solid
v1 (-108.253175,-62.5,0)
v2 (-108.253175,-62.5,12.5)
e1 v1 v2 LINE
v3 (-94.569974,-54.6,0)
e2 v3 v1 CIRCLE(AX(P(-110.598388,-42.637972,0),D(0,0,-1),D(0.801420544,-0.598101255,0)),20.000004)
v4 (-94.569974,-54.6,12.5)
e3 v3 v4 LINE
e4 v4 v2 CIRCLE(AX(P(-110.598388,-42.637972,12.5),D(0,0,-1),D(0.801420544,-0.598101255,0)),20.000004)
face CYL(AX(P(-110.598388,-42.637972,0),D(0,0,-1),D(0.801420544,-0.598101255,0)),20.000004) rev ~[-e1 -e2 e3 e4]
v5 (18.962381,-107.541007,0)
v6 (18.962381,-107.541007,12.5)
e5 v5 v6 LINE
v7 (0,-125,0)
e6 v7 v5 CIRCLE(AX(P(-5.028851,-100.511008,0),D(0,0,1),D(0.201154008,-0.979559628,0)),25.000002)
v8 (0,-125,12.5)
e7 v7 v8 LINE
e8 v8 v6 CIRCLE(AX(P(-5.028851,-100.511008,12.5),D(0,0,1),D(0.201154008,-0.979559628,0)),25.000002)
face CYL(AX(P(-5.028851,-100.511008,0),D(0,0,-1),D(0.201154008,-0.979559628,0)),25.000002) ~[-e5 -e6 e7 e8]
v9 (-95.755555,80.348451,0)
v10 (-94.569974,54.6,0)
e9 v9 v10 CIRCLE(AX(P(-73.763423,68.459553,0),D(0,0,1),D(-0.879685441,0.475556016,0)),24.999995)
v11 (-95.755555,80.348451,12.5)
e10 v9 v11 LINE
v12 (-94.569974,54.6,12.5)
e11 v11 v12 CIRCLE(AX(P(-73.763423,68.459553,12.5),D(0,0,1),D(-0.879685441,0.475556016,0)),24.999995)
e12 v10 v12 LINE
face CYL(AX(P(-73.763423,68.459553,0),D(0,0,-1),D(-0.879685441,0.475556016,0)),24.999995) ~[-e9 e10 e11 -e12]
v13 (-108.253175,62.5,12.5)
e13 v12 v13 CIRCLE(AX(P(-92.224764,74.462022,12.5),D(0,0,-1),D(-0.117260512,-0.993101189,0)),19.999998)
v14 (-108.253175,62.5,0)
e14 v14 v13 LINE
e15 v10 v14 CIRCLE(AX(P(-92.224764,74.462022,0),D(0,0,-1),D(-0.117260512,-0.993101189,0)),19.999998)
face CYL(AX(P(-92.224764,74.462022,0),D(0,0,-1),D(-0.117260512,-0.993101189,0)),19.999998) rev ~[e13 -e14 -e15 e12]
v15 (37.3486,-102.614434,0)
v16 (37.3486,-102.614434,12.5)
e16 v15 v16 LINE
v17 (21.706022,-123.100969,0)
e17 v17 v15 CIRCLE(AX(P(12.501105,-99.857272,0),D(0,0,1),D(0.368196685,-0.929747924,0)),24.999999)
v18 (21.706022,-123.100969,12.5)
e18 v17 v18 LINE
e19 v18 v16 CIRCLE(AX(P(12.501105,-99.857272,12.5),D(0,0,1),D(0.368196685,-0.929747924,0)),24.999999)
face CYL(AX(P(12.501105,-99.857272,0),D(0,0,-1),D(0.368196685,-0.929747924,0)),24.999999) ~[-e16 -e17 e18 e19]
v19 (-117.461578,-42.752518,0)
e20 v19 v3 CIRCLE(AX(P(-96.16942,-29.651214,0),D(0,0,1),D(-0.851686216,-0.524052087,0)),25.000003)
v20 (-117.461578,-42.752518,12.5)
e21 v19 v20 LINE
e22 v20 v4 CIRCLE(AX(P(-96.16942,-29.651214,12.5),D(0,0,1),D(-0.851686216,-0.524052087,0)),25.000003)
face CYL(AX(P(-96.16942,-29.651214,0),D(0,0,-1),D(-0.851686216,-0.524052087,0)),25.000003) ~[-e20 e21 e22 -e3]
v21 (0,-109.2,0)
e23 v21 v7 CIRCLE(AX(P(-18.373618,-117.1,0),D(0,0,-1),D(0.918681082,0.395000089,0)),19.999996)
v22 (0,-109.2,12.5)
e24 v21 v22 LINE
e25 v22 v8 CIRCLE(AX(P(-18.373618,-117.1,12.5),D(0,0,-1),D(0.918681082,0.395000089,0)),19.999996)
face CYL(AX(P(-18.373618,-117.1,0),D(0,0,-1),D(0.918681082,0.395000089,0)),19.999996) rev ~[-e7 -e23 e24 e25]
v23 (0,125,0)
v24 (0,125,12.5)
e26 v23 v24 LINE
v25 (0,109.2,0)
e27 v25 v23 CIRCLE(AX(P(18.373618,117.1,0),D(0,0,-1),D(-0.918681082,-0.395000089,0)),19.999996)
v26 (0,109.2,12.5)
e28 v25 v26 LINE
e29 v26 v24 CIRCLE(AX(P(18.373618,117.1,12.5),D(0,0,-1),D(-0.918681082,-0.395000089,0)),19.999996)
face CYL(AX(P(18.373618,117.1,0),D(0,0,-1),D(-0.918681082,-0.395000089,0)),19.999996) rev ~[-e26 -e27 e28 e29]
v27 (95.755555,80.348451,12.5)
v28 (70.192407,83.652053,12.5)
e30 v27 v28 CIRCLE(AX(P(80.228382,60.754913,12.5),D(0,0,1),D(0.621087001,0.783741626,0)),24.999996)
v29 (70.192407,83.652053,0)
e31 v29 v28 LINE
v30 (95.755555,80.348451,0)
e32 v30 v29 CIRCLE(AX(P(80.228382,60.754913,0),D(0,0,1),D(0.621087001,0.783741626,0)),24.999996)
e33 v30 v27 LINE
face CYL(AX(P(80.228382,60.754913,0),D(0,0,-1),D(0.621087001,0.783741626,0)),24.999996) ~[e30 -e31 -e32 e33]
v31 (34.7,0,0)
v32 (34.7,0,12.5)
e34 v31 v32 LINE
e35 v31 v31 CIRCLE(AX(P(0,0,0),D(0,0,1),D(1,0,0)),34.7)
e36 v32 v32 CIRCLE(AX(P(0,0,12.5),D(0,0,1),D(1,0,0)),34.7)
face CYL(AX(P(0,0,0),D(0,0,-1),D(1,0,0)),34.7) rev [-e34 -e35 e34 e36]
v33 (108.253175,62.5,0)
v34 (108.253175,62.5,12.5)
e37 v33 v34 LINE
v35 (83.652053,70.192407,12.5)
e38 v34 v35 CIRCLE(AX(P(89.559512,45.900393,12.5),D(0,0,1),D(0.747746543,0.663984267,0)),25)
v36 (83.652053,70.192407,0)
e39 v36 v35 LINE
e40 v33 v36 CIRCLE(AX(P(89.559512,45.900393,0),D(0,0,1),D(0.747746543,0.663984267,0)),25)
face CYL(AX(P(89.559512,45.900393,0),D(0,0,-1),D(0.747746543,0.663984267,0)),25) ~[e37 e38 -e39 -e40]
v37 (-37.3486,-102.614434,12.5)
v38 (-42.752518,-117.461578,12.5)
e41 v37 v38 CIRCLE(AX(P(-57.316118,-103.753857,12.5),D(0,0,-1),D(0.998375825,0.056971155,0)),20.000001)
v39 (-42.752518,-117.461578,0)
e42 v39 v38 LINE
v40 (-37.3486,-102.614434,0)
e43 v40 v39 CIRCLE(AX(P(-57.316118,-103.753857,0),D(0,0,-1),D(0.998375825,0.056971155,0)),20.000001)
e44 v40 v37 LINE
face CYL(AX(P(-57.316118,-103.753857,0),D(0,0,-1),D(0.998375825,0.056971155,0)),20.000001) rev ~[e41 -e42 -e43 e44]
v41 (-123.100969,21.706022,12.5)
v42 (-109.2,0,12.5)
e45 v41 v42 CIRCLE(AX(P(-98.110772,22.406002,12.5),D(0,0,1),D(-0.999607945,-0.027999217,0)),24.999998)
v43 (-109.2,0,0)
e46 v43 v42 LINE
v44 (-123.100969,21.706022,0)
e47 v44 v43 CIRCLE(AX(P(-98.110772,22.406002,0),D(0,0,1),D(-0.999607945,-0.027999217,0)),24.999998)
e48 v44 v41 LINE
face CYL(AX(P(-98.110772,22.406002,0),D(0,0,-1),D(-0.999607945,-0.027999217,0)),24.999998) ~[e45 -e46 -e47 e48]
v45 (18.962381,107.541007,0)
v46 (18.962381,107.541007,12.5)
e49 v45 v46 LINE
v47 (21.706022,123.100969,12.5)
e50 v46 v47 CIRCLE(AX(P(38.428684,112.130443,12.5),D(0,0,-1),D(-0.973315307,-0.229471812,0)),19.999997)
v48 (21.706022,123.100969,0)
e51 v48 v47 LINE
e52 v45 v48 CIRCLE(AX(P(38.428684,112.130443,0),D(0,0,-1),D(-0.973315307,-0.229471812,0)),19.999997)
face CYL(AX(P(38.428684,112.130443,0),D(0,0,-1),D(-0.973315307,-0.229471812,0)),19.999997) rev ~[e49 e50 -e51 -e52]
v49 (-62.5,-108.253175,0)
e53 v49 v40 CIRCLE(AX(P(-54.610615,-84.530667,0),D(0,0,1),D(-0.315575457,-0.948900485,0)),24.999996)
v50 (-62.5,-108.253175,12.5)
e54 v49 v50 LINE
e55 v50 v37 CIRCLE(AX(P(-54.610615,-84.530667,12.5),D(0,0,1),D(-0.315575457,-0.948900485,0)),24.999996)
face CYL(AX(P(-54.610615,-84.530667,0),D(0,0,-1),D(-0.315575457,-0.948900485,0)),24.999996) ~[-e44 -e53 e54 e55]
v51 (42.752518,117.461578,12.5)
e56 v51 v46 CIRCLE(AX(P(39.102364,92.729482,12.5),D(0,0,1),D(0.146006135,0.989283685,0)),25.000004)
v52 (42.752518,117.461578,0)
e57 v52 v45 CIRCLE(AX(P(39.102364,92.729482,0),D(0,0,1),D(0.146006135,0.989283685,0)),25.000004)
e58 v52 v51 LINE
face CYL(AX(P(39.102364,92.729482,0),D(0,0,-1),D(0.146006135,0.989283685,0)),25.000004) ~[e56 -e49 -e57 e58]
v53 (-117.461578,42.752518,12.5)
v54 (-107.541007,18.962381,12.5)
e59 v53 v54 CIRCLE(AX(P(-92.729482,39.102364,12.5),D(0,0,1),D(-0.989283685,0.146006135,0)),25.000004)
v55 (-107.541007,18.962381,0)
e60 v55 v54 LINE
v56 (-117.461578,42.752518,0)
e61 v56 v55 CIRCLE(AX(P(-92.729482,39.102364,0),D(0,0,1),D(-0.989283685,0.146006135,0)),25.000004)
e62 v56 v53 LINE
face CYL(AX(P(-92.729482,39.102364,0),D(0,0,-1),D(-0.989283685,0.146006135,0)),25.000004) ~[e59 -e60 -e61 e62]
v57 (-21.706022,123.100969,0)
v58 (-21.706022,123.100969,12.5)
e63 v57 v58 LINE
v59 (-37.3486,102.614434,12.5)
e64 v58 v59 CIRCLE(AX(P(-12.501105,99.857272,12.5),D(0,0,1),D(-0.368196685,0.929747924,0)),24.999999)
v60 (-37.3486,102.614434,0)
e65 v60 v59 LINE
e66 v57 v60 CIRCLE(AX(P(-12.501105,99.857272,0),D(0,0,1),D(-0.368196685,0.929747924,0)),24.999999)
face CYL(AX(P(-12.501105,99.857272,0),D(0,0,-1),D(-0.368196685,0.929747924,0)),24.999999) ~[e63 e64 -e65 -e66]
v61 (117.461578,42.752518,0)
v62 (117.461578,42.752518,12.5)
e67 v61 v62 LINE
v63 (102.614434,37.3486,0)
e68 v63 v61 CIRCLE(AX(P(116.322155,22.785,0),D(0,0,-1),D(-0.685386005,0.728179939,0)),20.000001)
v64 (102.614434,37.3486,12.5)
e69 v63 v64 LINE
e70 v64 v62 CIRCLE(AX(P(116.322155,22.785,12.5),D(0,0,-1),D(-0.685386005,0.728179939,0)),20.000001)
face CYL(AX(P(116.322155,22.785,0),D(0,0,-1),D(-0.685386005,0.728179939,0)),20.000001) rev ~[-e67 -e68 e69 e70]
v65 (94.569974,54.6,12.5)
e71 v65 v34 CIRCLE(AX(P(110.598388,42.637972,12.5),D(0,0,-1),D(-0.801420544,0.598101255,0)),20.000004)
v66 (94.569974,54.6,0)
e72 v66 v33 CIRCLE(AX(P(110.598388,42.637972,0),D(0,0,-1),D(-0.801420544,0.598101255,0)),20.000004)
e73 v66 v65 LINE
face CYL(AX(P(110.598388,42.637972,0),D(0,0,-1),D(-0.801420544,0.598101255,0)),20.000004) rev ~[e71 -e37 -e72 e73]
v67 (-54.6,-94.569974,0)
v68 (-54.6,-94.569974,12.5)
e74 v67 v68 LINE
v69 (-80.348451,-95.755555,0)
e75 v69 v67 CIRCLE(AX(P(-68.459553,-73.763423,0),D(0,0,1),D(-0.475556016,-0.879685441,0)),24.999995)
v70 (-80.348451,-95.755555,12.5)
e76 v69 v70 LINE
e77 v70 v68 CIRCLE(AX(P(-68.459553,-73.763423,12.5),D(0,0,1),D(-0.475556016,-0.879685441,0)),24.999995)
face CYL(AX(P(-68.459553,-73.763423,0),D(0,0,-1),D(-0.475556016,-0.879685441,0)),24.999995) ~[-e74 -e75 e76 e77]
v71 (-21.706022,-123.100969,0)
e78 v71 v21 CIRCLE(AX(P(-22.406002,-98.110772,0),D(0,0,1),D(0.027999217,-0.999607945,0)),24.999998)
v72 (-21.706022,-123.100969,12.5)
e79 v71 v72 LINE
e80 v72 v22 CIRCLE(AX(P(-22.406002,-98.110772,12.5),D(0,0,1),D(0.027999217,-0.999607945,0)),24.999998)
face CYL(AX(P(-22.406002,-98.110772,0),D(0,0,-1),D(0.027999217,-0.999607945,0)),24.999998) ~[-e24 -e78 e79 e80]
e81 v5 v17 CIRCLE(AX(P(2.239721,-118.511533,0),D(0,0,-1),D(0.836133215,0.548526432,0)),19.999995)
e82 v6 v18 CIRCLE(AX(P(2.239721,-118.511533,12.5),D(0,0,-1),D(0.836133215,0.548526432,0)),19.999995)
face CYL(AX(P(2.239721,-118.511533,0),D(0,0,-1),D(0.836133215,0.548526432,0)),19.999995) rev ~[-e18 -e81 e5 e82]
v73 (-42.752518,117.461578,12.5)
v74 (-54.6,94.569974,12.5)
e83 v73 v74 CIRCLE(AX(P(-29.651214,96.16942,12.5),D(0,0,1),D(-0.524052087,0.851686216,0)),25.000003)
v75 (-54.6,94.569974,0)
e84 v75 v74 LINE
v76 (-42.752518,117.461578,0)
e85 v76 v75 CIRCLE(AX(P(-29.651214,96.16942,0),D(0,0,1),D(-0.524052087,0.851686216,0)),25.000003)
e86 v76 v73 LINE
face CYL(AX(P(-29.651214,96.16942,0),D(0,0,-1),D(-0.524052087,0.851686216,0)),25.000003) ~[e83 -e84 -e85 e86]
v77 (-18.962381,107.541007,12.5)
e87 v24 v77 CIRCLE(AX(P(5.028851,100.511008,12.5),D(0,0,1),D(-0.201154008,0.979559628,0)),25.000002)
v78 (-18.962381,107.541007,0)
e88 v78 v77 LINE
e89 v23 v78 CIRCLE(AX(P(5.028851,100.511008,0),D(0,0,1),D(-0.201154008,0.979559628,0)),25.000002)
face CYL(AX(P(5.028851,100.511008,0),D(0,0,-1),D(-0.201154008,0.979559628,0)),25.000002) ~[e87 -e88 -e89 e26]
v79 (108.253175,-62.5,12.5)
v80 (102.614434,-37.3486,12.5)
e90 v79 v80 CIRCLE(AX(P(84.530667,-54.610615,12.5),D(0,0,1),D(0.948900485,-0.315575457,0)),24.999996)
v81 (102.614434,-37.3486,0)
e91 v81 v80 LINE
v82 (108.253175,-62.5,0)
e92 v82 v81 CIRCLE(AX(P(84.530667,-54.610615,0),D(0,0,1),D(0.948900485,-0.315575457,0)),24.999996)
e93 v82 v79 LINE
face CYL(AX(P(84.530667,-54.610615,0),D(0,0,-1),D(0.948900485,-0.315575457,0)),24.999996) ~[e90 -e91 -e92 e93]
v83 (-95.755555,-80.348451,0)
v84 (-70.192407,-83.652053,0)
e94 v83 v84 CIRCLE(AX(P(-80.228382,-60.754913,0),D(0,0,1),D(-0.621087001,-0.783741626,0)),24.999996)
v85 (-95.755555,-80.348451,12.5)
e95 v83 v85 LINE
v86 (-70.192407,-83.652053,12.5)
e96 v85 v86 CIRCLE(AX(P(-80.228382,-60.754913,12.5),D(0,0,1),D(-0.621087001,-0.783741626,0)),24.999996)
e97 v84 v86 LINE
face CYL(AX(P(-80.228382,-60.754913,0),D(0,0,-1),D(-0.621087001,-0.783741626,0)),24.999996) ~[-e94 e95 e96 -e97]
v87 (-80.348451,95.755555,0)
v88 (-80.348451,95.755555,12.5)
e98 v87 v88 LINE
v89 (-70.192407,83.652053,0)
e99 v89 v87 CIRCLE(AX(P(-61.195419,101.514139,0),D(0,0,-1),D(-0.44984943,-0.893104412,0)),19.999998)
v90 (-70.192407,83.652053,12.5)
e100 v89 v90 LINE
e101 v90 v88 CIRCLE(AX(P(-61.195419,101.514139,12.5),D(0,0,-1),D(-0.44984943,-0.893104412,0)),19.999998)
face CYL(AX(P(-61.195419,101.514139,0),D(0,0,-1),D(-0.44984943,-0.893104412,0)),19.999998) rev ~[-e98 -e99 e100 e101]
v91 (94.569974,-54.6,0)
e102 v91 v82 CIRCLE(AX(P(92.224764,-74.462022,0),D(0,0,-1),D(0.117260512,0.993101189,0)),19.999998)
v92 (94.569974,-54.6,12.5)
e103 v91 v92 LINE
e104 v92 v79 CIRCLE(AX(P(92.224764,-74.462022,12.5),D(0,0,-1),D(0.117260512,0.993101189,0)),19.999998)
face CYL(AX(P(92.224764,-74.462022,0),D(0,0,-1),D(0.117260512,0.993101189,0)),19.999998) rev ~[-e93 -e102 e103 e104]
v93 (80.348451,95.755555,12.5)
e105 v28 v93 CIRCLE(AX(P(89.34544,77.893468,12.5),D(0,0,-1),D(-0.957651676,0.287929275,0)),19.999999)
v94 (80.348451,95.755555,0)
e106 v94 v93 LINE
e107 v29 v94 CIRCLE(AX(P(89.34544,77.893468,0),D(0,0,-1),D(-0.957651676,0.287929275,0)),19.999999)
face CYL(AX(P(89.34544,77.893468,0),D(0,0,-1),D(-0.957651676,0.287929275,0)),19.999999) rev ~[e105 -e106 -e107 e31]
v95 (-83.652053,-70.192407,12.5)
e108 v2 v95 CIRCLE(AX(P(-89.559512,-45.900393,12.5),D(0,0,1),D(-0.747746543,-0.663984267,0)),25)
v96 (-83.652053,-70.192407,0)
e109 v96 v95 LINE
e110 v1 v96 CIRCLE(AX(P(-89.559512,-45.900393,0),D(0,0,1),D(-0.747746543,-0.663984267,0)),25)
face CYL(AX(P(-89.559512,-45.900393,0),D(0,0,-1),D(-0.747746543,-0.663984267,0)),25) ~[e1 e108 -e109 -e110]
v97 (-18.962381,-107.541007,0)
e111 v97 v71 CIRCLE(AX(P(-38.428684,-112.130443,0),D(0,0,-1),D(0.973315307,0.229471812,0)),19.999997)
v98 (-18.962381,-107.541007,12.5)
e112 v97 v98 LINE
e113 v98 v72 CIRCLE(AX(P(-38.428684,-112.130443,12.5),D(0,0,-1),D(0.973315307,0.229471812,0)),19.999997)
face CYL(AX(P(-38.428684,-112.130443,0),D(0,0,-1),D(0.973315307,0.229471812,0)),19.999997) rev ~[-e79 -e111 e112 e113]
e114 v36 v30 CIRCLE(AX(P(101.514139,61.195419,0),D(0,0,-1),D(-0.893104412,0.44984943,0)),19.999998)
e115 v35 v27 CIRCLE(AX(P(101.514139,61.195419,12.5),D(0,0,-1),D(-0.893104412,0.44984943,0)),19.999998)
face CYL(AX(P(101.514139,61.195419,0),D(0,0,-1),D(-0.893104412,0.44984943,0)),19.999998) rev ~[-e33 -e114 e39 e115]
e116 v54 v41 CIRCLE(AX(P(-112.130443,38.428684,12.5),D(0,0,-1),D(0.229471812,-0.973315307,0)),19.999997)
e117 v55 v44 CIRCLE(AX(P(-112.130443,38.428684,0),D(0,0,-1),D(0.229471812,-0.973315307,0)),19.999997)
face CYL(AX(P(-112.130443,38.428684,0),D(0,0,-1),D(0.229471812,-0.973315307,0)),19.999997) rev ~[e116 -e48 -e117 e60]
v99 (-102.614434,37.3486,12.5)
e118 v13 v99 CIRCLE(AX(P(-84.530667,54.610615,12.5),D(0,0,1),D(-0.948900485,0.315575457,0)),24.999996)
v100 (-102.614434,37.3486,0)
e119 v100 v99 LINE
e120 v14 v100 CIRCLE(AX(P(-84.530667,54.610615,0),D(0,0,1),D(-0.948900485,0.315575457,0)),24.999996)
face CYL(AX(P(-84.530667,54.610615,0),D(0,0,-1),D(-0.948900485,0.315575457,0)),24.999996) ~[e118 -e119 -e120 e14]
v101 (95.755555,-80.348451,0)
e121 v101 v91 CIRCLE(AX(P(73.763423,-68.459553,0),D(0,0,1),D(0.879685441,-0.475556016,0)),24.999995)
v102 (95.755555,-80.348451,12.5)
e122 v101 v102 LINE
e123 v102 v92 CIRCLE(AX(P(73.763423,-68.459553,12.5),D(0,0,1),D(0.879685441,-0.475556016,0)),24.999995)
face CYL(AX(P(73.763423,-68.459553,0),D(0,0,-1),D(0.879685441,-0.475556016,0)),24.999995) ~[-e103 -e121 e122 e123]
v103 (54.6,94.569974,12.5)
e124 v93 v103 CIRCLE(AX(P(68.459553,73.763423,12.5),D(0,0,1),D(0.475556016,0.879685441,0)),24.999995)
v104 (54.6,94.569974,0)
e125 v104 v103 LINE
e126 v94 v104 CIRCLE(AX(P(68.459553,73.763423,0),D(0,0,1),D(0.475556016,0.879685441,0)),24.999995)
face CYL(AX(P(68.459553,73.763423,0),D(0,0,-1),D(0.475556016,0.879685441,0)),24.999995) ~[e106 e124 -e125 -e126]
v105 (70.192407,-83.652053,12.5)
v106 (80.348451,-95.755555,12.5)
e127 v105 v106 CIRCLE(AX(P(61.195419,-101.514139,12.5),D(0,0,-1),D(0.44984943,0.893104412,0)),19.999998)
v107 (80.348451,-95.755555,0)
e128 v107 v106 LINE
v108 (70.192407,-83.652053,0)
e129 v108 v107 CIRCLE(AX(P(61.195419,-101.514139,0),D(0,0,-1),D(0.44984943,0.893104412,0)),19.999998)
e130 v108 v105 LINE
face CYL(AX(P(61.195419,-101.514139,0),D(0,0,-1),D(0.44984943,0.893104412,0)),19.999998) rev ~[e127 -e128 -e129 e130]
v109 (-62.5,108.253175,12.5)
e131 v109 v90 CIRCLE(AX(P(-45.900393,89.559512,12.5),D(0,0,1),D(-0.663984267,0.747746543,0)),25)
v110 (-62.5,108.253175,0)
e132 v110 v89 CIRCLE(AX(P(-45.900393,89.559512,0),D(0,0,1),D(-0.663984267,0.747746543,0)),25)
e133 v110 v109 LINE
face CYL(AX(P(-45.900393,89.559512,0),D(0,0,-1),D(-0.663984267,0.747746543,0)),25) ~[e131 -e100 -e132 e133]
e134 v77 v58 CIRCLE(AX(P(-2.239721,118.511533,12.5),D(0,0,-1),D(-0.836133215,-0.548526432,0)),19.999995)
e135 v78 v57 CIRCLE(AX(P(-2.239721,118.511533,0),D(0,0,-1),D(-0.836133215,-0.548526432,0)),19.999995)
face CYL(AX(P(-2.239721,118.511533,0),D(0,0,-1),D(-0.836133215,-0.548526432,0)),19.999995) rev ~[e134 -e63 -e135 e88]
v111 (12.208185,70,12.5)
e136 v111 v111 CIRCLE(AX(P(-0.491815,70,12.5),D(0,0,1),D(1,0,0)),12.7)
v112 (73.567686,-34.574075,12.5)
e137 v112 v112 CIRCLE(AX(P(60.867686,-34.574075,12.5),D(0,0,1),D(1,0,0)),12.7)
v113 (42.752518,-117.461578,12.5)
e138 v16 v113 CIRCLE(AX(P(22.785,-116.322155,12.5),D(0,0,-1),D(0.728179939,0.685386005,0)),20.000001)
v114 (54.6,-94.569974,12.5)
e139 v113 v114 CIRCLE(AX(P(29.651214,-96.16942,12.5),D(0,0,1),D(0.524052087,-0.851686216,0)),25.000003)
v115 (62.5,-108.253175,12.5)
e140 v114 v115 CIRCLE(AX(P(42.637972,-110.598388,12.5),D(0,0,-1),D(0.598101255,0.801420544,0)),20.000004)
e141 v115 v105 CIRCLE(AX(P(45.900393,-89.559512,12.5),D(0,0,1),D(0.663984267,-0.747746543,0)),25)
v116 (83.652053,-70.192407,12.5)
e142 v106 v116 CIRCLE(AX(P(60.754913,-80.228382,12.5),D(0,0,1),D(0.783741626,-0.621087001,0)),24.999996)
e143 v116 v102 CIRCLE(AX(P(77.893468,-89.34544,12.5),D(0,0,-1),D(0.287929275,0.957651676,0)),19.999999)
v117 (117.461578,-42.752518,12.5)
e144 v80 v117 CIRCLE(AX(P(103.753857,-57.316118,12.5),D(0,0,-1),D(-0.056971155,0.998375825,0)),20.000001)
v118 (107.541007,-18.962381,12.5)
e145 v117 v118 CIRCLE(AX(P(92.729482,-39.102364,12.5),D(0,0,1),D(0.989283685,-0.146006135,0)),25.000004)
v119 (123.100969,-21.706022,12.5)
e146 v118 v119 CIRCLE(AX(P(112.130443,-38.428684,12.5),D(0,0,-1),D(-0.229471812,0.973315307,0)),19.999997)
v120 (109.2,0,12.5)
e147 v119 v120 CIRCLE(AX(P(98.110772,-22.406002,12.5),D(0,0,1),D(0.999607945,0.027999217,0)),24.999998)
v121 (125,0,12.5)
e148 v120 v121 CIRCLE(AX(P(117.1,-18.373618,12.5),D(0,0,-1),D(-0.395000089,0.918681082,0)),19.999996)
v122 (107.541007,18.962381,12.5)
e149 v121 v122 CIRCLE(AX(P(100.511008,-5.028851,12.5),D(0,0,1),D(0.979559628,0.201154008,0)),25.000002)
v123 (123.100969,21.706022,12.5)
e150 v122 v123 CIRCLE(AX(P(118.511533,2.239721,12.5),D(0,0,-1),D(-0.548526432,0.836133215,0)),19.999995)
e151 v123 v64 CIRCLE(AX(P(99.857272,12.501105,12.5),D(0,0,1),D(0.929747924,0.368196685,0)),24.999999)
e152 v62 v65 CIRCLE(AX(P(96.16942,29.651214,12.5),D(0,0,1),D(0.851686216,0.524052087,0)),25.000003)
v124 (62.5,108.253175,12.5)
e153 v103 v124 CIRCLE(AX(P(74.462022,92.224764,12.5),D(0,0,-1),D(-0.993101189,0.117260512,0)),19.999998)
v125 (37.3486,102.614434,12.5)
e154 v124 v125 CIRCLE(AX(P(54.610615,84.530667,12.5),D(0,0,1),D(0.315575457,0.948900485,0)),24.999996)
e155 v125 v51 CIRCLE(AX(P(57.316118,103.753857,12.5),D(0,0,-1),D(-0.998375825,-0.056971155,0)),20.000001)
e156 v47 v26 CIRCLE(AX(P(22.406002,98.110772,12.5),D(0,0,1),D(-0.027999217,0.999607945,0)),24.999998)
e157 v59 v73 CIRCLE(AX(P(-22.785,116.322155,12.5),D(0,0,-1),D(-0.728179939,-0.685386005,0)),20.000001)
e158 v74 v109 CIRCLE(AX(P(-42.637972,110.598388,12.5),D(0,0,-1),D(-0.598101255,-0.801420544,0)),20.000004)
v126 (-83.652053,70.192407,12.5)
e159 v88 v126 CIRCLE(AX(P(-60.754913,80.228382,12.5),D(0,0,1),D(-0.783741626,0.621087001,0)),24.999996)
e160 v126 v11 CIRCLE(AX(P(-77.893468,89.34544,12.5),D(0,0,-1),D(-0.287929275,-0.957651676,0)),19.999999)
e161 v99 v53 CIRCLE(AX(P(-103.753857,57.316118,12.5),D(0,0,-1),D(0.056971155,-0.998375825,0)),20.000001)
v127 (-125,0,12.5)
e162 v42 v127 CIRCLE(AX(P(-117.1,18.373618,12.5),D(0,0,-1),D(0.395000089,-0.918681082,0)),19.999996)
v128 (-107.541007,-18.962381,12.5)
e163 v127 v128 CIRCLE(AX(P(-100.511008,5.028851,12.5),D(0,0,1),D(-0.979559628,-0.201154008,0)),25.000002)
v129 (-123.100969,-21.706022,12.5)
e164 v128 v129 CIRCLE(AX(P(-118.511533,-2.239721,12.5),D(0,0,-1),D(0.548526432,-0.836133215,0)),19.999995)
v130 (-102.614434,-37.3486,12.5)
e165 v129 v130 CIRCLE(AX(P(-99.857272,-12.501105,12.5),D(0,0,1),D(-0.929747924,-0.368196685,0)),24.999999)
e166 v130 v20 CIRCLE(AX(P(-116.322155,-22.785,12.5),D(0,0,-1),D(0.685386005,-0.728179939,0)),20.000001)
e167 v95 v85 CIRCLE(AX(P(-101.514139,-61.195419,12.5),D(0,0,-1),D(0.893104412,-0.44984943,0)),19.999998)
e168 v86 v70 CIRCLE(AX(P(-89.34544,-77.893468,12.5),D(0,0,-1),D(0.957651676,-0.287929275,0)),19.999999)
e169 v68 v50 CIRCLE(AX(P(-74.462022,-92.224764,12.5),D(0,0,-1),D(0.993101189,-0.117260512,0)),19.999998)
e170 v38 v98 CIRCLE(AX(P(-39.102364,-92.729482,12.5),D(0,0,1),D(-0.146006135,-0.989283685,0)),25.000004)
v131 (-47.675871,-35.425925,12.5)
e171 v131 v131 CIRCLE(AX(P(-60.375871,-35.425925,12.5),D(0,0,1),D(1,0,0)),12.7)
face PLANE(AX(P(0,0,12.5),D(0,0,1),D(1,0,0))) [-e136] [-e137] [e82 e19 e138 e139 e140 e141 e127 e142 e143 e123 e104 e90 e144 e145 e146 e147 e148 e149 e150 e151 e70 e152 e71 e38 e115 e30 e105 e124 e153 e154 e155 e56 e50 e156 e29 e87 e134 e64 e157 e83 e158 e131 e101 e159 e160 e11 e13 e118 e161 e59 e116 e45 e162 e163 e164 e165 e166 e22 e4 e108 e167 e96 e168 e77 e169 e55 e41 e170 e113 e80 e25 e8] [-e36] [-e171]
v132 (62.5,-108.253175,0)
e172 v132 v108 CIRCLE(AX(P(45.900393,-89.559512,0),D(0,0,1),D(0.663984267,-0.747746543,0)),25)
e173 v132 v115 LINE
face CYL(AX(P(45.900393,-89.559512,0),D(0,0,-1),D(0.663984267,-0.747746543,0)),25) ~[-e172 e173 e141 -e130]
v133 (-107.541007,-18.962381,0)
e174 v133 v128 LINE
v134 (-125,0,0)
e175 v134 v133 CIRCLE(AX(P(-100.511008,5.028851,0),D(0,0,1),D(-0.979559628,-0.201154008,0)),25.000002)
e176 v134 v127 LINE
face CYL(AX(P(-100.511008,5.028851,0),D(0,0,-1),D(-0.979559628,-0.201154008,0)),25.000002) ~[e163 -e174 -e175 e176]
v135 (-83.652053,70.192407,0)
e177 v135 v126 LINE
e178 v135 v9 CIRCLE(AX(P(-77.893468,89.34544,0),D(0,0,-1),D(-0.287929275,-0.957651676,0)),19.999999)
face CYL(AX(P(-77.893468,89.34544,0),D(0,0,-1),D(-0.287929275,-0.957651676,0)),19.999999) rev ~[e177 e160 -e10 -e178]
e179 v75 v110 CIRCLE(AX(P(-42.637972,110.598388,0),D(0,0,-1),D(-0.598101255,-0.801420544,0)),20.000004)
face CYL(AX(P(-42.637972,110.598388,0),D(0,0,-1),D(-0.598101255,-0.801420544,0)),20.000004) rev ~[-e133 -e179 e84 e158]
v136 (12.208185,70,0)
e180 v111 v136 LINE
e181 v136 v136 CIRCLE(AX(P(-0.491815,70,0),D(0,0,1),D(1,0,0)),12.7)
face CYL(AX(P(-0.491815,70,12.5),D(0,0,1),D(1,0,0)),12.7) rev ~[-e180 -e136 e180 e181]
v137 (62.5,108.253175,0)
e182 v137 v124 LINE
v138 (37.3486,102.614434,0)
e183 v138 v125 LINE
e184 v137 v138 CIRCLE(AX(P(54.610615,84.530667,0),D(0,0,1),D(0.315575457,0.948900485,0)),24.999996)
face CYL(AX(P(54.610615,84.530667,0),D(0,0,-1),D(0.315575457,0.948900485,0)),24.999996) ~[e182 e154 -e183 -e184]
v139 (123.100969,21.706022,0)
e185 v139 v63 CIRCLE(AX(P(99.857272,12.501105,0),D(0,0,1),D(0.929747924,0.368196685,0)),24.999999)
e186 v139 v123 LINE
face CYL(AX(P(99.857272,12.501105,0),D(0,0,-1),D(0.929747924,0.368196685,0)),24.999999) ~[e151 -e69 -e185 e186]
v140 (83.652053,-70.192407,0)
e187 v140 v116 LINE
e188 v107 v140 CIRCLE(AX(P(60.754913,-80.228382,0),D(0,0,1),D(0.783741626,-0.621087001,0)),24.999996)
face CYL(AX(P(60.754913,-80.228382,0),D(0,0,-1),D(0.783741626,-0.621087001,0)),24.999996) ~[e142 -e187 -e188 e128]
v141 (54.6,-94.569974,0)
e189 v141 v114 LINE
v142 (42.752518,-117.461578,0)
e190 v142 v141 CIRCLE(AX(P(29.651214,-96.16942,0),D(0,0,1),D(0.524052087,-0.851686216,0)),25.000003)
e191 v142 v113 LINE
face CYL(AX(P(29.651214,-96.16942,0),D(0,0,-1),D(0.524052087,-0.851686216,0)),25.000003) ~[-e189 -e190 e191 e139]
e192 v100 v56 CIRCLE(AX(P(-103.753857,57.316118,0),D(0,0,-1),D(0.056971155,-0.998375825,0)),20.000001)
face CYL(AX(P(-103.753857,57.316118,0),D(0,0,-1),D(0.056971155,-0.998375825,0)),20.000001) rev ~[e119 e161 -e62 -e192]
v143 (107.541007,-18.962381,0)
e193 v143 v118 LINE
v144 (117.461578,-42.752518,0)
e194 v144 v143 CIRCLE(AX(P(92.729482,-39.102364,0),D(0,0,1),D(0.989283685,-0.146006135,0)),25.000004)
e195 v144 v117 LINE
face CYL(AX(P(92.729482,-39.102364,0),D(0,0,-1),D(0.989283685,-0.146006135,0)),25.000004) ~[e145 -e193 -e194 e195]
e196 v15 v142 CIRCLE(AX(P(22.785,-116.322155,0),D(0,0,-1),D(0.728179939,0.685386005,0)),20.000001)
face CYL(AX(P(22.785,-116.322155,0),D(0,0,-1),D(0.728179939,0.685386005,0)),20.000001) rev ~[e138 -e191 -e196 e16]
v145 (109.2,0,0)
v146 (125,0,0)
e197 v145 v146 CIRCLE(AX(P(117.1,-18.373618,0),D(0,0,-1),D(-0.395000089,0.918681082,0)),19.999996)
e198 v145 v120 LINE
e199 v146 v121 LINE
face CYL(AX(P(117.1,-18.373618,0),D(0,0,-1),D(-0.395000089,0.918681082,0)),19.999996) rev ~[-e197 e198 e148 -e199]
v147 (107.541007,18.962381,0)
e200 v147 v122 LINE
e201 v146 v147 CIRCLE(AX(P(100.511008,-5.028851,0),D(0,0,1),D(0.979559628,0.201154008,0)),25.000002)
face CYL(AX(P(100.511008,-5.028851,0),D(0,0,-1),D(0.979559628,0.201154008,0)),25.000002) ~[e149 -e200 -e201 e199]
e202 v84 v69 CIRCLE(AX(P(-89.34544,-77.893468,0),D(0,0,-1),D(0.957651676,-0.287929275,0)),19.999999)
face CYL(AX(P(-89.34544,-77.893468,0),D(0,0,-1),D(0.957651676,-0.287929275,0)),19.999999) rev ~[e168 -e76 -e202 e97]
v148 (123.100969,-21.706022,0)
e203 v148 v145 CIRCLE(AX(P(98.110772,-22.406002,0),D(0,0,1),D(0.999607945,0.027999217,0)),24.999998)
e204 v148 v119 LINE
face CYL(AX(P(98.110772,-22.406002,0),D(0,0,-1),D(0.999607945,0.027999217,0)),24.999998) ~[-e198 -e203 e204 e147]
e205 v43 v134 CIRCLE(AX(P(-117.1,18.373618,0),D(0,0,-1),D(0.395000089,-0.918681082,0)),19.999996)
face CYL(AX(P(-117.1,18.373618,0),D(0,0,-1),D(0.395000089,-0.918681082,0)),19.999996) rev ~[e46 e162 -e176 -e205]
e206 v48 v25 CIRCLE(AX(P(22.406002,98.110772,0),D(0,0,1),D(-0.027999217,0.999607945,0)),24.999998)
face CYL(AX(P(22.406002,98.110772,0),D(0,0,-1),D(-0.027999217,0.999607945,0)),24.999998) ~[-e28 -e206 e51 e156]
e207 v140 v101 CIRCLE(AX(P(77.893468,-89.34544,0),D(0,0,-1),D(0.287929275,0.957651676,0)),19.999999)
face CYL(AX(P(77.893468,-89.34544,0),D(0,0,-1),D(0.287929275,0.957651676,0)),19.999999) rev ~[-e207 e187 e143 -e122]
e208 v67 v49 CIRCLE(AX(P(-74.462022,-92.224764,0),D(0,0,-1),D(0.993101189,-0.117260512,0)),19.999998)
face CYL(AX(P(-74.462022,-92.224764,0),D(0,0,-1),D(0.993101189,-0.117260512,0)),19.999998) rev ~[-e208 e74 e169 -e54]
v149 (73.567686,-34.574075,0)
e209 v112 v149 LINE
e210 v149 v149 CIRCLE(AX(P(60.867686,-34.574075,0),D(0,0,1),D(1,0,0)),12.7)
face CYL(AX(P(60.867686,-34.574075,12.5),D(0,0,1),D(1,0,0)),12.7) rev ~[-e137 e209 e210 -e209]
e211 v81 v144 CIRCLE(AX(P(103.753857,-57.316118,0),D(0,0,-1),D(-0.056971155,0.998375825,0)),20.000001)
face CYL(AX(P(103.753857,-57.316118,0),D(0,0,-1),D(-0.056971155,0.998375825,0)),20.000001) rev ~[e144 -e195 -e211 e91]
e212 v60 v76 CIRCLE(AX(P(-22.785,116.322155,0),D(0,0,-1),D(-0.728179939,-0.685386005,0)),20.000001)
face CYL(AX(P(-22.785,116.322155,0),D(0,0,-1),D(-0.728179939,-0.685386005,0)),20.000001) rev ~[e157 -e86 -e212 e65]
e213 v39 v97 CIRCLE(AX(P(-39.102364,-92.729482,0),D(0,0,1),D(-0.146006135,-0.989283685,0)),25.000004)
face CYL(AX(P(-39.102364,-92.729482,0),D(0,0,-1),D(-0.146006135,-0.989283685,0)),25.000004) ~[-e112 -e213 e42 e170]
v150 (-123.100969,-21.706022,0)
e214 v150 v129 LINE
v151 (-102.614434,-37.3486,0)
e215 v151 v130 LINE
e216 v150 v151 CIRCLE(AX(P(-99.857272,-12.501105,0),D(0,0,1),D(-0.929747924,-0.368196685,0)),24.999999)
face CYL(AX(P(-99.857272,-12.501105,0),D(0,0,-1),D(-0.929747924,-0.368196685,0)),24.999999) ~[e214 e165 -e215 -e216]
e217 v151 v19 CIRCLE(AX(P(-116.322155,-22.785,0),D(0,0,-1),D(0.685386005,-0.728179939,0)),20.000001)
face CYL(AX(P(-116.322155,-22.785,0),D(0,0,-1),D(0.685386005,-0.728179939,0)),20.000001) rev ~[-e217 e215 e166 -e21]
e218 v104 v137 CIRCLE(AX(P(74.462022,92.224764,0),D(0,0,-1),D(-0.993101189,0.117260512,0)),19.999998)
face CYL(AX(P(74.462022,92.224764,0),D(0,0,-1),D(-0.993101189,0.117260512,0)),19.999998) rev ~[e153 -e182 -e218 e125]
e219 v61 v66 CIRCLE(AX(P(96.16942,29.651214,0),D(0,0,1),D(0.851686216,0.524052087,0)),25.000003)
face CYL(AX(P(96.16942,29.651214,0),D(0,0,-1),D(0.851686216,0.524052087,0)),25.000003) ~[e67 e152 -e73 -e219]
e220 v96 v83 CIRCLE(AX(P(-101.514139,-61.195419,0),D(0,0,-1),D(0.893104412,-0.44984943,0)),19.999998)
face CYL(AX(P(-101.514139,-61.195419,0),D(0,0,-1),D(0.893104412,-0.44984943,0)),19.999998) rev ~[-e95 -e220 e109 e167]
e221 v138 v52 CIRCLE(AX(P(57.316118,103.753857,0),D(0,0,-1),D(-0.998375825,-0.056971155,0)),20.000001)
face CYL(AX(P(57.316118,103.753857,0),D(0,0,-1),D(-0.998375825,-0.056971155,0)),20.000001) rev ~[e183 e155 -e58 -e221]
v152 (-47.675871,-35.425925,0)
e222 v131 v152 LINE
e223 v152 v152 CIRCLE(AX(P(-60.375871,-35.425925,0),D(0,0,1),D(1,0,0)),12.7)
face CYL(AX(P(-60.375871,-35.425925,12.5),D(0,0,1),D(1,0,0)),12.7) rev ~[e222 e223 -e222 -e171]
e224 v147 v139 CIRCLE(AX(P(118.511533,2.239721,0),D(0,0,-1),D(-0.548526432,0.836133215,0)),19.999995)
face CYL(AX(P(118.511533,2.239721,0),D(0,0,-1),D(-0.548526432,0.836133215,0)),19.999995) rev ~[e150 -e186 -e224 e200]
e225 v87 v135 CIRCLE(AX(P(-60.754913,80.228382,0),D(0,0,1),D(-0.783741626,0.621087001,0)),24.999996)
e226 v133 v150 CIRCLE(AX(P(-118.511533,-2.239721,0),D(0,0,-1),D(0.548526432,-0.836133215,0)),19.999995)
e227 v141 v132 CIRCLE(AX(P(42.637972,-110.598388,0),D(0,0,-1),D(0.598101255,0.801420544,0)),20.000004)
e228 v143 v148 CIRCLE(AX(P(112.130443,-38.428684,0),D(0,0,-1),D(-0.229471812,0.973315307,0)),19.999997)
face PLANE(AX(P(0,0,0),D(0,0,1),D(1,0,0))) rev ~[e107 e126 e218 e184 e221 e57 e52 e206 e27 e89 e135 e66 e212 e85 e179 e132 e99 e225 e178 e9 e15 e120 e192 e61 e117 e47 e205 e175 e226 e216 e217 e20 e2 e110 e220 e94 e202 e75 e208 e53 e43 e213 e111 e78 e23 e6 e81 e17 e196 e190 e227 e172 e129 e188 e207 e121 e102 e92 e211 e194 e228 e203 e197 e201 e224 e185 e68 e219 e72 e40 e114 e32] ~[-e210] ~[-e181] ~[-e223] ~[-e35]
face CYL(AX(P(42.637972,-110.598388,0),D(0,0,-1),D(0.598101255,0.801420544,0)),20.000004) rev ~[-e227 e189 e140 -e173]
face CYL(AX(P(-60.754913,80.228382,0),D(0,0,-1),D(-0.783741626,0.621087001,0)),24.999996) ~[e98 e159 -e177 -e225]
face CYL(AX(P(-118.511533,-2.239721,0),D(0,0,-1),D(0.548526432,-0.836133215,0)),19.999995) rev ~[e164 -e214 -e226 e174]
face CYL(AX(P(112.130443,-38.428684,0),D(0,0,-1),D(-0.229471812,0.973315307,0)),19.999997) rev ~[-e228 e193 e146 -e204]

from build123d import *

# Parameters (mm, degrees)
F0_R     = 34.7
F1_DEPTH = 12.5
F2_R     = 12.7
F3_DEPTH = 25


with BuildPart() as f1:
    # F0 (on Top) → F1 (new body)
    with BuildSketch(Plane.XY):
        with BuildLine():
            ThreePointArc((18.962381, 107.541007), (18.732532, 115.603405), (21.706022, 123.100969))
            ThreePointArc((21.706022, 123.100969), (8.92339, 119.163541), (0, 109.2))
            ThreePointArc((0, 109.2), (-1.626378, 117.1), (0, 125))
            ThreePointArc((0, 125), (-11.904708, 118.902709), (-18.962381, 107.541007))
            ThreePointArc((-18.962381, 107.541007), (-21.935871, 115.03857), (-21.706022, 123.100969))
            ThreePointArc((-21.706022, 123.100969), (-32.371088, 115.029079), (-37.3486, 102.614434))
            ThreePointArc((-37.3486, 102.614434), (-41.578854, 109.481752), (-42.752518, 117.461578))
            ThreePointArc((-42.752518, 117.461578), (-51.853888, 107.660348), (-54.6, 94.569974))
            ThreePointArc((-54.6, 94.569974), (-59.958484, 100.598386), (-62.5, 108.253175))
            ThreePointArc((-62.5, 108.253175), (-69.761134, 97.020413), (-70.192407, 83.652053))
            ThreePointArc((-70.192407, 83.652053), (-76.516307, 88.658389), (-80.348451, 95.755555))
            ThreePointArc((-80.348451, 95.755555), (-85.548724, 83.432561), (-83.652053, 70.192407))
            ThreePointArc((-83.652053, 70.192407), (-90.74922, 74.024552), (-95.755555, 80.348451))
            ThreePointArc((-95.755555, 80.348451), (-98.736959, 67.309653), (-94.569974, 54.6))
            ThreePointArc((-94.569974, 54.6), (-102.224764, 57.141516), (-108.253175, 62.5))
            ThreePointArc((-108.253175, 62.5), (-108.925121, 49.141575), (-102.614434, 37.3486))
            ThreePointArc((-102.614434, 37.3486), (-110.59426, 38.522264), (-117.461578, 42.752518))
            ThreePointArc((-117.461578, 42.752518), (-115.803648, 29.480355), (-107.541007, 18.962381))
            ThreePointArc((-107.541007, 18.962381), (-115.603405, 18.732532), (-123.100969, 21.706022))
            ThreePointArc((-123.100969, 21.706022), (-119.163541, 8.92339), (-109.2, 0))
            ThreePointArc((-109.2, 0), (-117.1, -1.626378), (-125, 0))
            ThreePointArc((-125, 0), (-118.902709, -11.904708), (-107.541007, -18.962381))
            ThreePointArc((-107.541007, -18.962381), (-115.03857, -21.935871), (-123.100969, -21.706022))
            ThreePointArc((-123.100969, -21.706022), (-115.029079, -32.371088), (-102.614434, -37.3486))
            ThreePointArc((-102.614434, -37.3486), (-109.481752, -41.578854), (-117.461578, -42.752518))
            ThreePointArc((-117.461578, -42.752518), (-107.660348, -51.853888), (-94.569974, -54.6))
            ThreePointArc((-94.569974, -54.6), (-100.598386, -59.958484), (-108.253175, -62.5))
            ThreePointArc((-108.253175, -62.5), (-97.020413, -69.761134), (-83.652053, -70.192407))
            ThreePointArc((-83.652053, -70.192407), (-88.658389, -76.516307), (-95.755555, -80.348451))
            ThreePointArc((-95.755555, -80.348451), (-83.432561, -85.548724), (-70.192407, -83.652053))
            ThreePointArc((-70.192407, -83.652053), (-74.024552, -90.74922), (-80.348451, -95.755555))
            ThreePointArc((-80.348451, -95.755555), (-67.309653, -98.736959), (-54.6, -94.569974))
            ThreePointArc((-54.6, -94.569974), (-57.141516, -102.224764), (-62.5, -108.253175))
            ThreePointArc((-62.5, -108.253175), (-49.141575, -108.925121), (-37.3486, -102.614434))
            ThreePointArc((-37.3486, -102.614434), (-38.522264, -110.59426), (-42.752518, -117.461578))
            ThreePointArc((-42.752518, -117.461578), (-29.480355, -115.803648), (-18.962381, -107.541007))
            ThreePointArc((-18.962381, -107.541007), (-18.732532, -115.603405), (-21.706022, -123.100969))
            ThreePointArc((-21.706022, -123.100969), (-8.92339, -119.163541), (0, -109.2))
            ThreePointArc((0, -109.2), (1.626378, -117.1), (0, -125))
            ThreePointArc((0, -125), (11.904708, -118.902709), (18.962381, -107.541007))
            ThreePointArc((18.962381, -107.541007), (21.935871, -115.03857), (21.706022, -123.100969))
            ThreePointArc((21.706022, -123.100969), (32.371088, -115.029079), (37.3486, -102.614434))
            ThreePointArc((37.3486, -102.614434), (41.578854, -109.481752), (42.752518, -117.461578))
            ThreePointArc((42.752518, -117.461578), (51.853888, -107.660348), (54.6, -94.569974))
            ThreePointArc((54.6, -94.569974), (59.958484, -100.598386), (62.5, -108.253175))
            ThreePointArc((62.5, -108.253175), (69.761134, -97.020413), (70.192407, -83.652053))
            ThreePointArc((70.192407, -83.652053), (76.516307, -88.658389), (80.348451, -95.755555))
            ThreePointArc((80.348451, -95.755555), (85.548724, -83.432561), (83.652053, -70.192407))
            ThreePointArc((83.652053, -70.192407), (90.74922, -74.024552), (95.755555, -80.348451))
            ThreePointArc((95.755555, -80.348451), (98.736959, -67.309653), (94.569974, -54.6))
            ThreePointArc((94.569974, -54.6), (102.224764, -57.141516), (108.253175, -62.5))
            ThreePointArc((108.253175, -62.5), (108.925121, -49.141575), (102.614434, -37.3486))
            ThreePointArc((102.614434, -37.3486), (110.59426, -38.522264), (117.461578, -42.752518))
            ThreePointArc((117.461578, -42.752518), (115.803648, -29.480355), (107.541007, -18.962381))
            ThreePointArc((107.541007, -18.962381), (115.603405, -18.732532), (123.100969, -21.706022))
            ThreePointArc((123.100969, -21.706022), (119.163541, -8.92339), (109.2, 0))
            ThreePointArc((109.2, 0), (117.1, 1.626378), (125, 0))
            ThreePointArc((125, 0), (118.902709, 11.904708), (107.541007, 18.962381))
            ThreePointArc((107.541007, 18.962381), (115.03857, 21.935871), (123.100969, 21.706022))
            ThreePointArc((123.100969, 21.706022), (115.029079, 32.371088), (102.614434, 37.3486))
            ThreePointArc((102.614434, 37.3486), (109.481752, 41.578854), (117.461578, 42.752518))
            ThreePointArc((117.461578, 42.752518), (107.660348, 51.853888), (94.569974, 54.6))
            ThreePointArc((94.569974, 54.6), (100.598386, 59.958484), (108.253175, 62.5))
            ThreePointArc((108.253175, 62.5), (97.020413, 69.761134), (83.652053, 70.192407))
            ThreePointArc((83.652053, 70.192407), (88.658389, 76.516307), (95.755555, 80.348451))
            ThreePointArc((95.755555, 80.348451), (83.432561, 85.548724), (70.192407, 83.652053))
            ThreePointArc((70.192407, 83.652053), (74.024552, 90.74922), (80.348451, 95.755555))
            ThreePointArc((80.348451, 95.755555), (67.309653, 98.736959), (54.6, 94.569974))
            ThreePointArc((54.6, 94.569974), (57.141516, 102.224764), (62.5, 108.253175))
            ThreePointArc((62.5, 108.253175), (49.141575, 108.925121), (37.3486, 102.614434))
            ThreePointArc((37.3486, 102.614434), (38.522264, 110.59426), (42.752518, 117.461578))
            ThreePointArc((42.752518, 117.461578), (29.480355, 115.803648), (18.962381, 107.541007))
        make_face()
        Circle(F0_R, mode=Mode.SUBTRACT)
    extrude(amount=F1_DEPTH)

    # F2 (on face) → F3 (cut)
    with BuildSketch(Plane.XY.offset(12.5)):
        with Locations((-0.491815, 70)):
            Circle(F2_R)
        with Locations((-60.375871, -35.425925)):
            Circle(F2_R)
        with Locations((60.867686, -34.574075)):
            Circle(F2_R)
    extrude(amount=-F3_DEPTH, mode=Mode.SUBTRACT)


solid = f1.part
